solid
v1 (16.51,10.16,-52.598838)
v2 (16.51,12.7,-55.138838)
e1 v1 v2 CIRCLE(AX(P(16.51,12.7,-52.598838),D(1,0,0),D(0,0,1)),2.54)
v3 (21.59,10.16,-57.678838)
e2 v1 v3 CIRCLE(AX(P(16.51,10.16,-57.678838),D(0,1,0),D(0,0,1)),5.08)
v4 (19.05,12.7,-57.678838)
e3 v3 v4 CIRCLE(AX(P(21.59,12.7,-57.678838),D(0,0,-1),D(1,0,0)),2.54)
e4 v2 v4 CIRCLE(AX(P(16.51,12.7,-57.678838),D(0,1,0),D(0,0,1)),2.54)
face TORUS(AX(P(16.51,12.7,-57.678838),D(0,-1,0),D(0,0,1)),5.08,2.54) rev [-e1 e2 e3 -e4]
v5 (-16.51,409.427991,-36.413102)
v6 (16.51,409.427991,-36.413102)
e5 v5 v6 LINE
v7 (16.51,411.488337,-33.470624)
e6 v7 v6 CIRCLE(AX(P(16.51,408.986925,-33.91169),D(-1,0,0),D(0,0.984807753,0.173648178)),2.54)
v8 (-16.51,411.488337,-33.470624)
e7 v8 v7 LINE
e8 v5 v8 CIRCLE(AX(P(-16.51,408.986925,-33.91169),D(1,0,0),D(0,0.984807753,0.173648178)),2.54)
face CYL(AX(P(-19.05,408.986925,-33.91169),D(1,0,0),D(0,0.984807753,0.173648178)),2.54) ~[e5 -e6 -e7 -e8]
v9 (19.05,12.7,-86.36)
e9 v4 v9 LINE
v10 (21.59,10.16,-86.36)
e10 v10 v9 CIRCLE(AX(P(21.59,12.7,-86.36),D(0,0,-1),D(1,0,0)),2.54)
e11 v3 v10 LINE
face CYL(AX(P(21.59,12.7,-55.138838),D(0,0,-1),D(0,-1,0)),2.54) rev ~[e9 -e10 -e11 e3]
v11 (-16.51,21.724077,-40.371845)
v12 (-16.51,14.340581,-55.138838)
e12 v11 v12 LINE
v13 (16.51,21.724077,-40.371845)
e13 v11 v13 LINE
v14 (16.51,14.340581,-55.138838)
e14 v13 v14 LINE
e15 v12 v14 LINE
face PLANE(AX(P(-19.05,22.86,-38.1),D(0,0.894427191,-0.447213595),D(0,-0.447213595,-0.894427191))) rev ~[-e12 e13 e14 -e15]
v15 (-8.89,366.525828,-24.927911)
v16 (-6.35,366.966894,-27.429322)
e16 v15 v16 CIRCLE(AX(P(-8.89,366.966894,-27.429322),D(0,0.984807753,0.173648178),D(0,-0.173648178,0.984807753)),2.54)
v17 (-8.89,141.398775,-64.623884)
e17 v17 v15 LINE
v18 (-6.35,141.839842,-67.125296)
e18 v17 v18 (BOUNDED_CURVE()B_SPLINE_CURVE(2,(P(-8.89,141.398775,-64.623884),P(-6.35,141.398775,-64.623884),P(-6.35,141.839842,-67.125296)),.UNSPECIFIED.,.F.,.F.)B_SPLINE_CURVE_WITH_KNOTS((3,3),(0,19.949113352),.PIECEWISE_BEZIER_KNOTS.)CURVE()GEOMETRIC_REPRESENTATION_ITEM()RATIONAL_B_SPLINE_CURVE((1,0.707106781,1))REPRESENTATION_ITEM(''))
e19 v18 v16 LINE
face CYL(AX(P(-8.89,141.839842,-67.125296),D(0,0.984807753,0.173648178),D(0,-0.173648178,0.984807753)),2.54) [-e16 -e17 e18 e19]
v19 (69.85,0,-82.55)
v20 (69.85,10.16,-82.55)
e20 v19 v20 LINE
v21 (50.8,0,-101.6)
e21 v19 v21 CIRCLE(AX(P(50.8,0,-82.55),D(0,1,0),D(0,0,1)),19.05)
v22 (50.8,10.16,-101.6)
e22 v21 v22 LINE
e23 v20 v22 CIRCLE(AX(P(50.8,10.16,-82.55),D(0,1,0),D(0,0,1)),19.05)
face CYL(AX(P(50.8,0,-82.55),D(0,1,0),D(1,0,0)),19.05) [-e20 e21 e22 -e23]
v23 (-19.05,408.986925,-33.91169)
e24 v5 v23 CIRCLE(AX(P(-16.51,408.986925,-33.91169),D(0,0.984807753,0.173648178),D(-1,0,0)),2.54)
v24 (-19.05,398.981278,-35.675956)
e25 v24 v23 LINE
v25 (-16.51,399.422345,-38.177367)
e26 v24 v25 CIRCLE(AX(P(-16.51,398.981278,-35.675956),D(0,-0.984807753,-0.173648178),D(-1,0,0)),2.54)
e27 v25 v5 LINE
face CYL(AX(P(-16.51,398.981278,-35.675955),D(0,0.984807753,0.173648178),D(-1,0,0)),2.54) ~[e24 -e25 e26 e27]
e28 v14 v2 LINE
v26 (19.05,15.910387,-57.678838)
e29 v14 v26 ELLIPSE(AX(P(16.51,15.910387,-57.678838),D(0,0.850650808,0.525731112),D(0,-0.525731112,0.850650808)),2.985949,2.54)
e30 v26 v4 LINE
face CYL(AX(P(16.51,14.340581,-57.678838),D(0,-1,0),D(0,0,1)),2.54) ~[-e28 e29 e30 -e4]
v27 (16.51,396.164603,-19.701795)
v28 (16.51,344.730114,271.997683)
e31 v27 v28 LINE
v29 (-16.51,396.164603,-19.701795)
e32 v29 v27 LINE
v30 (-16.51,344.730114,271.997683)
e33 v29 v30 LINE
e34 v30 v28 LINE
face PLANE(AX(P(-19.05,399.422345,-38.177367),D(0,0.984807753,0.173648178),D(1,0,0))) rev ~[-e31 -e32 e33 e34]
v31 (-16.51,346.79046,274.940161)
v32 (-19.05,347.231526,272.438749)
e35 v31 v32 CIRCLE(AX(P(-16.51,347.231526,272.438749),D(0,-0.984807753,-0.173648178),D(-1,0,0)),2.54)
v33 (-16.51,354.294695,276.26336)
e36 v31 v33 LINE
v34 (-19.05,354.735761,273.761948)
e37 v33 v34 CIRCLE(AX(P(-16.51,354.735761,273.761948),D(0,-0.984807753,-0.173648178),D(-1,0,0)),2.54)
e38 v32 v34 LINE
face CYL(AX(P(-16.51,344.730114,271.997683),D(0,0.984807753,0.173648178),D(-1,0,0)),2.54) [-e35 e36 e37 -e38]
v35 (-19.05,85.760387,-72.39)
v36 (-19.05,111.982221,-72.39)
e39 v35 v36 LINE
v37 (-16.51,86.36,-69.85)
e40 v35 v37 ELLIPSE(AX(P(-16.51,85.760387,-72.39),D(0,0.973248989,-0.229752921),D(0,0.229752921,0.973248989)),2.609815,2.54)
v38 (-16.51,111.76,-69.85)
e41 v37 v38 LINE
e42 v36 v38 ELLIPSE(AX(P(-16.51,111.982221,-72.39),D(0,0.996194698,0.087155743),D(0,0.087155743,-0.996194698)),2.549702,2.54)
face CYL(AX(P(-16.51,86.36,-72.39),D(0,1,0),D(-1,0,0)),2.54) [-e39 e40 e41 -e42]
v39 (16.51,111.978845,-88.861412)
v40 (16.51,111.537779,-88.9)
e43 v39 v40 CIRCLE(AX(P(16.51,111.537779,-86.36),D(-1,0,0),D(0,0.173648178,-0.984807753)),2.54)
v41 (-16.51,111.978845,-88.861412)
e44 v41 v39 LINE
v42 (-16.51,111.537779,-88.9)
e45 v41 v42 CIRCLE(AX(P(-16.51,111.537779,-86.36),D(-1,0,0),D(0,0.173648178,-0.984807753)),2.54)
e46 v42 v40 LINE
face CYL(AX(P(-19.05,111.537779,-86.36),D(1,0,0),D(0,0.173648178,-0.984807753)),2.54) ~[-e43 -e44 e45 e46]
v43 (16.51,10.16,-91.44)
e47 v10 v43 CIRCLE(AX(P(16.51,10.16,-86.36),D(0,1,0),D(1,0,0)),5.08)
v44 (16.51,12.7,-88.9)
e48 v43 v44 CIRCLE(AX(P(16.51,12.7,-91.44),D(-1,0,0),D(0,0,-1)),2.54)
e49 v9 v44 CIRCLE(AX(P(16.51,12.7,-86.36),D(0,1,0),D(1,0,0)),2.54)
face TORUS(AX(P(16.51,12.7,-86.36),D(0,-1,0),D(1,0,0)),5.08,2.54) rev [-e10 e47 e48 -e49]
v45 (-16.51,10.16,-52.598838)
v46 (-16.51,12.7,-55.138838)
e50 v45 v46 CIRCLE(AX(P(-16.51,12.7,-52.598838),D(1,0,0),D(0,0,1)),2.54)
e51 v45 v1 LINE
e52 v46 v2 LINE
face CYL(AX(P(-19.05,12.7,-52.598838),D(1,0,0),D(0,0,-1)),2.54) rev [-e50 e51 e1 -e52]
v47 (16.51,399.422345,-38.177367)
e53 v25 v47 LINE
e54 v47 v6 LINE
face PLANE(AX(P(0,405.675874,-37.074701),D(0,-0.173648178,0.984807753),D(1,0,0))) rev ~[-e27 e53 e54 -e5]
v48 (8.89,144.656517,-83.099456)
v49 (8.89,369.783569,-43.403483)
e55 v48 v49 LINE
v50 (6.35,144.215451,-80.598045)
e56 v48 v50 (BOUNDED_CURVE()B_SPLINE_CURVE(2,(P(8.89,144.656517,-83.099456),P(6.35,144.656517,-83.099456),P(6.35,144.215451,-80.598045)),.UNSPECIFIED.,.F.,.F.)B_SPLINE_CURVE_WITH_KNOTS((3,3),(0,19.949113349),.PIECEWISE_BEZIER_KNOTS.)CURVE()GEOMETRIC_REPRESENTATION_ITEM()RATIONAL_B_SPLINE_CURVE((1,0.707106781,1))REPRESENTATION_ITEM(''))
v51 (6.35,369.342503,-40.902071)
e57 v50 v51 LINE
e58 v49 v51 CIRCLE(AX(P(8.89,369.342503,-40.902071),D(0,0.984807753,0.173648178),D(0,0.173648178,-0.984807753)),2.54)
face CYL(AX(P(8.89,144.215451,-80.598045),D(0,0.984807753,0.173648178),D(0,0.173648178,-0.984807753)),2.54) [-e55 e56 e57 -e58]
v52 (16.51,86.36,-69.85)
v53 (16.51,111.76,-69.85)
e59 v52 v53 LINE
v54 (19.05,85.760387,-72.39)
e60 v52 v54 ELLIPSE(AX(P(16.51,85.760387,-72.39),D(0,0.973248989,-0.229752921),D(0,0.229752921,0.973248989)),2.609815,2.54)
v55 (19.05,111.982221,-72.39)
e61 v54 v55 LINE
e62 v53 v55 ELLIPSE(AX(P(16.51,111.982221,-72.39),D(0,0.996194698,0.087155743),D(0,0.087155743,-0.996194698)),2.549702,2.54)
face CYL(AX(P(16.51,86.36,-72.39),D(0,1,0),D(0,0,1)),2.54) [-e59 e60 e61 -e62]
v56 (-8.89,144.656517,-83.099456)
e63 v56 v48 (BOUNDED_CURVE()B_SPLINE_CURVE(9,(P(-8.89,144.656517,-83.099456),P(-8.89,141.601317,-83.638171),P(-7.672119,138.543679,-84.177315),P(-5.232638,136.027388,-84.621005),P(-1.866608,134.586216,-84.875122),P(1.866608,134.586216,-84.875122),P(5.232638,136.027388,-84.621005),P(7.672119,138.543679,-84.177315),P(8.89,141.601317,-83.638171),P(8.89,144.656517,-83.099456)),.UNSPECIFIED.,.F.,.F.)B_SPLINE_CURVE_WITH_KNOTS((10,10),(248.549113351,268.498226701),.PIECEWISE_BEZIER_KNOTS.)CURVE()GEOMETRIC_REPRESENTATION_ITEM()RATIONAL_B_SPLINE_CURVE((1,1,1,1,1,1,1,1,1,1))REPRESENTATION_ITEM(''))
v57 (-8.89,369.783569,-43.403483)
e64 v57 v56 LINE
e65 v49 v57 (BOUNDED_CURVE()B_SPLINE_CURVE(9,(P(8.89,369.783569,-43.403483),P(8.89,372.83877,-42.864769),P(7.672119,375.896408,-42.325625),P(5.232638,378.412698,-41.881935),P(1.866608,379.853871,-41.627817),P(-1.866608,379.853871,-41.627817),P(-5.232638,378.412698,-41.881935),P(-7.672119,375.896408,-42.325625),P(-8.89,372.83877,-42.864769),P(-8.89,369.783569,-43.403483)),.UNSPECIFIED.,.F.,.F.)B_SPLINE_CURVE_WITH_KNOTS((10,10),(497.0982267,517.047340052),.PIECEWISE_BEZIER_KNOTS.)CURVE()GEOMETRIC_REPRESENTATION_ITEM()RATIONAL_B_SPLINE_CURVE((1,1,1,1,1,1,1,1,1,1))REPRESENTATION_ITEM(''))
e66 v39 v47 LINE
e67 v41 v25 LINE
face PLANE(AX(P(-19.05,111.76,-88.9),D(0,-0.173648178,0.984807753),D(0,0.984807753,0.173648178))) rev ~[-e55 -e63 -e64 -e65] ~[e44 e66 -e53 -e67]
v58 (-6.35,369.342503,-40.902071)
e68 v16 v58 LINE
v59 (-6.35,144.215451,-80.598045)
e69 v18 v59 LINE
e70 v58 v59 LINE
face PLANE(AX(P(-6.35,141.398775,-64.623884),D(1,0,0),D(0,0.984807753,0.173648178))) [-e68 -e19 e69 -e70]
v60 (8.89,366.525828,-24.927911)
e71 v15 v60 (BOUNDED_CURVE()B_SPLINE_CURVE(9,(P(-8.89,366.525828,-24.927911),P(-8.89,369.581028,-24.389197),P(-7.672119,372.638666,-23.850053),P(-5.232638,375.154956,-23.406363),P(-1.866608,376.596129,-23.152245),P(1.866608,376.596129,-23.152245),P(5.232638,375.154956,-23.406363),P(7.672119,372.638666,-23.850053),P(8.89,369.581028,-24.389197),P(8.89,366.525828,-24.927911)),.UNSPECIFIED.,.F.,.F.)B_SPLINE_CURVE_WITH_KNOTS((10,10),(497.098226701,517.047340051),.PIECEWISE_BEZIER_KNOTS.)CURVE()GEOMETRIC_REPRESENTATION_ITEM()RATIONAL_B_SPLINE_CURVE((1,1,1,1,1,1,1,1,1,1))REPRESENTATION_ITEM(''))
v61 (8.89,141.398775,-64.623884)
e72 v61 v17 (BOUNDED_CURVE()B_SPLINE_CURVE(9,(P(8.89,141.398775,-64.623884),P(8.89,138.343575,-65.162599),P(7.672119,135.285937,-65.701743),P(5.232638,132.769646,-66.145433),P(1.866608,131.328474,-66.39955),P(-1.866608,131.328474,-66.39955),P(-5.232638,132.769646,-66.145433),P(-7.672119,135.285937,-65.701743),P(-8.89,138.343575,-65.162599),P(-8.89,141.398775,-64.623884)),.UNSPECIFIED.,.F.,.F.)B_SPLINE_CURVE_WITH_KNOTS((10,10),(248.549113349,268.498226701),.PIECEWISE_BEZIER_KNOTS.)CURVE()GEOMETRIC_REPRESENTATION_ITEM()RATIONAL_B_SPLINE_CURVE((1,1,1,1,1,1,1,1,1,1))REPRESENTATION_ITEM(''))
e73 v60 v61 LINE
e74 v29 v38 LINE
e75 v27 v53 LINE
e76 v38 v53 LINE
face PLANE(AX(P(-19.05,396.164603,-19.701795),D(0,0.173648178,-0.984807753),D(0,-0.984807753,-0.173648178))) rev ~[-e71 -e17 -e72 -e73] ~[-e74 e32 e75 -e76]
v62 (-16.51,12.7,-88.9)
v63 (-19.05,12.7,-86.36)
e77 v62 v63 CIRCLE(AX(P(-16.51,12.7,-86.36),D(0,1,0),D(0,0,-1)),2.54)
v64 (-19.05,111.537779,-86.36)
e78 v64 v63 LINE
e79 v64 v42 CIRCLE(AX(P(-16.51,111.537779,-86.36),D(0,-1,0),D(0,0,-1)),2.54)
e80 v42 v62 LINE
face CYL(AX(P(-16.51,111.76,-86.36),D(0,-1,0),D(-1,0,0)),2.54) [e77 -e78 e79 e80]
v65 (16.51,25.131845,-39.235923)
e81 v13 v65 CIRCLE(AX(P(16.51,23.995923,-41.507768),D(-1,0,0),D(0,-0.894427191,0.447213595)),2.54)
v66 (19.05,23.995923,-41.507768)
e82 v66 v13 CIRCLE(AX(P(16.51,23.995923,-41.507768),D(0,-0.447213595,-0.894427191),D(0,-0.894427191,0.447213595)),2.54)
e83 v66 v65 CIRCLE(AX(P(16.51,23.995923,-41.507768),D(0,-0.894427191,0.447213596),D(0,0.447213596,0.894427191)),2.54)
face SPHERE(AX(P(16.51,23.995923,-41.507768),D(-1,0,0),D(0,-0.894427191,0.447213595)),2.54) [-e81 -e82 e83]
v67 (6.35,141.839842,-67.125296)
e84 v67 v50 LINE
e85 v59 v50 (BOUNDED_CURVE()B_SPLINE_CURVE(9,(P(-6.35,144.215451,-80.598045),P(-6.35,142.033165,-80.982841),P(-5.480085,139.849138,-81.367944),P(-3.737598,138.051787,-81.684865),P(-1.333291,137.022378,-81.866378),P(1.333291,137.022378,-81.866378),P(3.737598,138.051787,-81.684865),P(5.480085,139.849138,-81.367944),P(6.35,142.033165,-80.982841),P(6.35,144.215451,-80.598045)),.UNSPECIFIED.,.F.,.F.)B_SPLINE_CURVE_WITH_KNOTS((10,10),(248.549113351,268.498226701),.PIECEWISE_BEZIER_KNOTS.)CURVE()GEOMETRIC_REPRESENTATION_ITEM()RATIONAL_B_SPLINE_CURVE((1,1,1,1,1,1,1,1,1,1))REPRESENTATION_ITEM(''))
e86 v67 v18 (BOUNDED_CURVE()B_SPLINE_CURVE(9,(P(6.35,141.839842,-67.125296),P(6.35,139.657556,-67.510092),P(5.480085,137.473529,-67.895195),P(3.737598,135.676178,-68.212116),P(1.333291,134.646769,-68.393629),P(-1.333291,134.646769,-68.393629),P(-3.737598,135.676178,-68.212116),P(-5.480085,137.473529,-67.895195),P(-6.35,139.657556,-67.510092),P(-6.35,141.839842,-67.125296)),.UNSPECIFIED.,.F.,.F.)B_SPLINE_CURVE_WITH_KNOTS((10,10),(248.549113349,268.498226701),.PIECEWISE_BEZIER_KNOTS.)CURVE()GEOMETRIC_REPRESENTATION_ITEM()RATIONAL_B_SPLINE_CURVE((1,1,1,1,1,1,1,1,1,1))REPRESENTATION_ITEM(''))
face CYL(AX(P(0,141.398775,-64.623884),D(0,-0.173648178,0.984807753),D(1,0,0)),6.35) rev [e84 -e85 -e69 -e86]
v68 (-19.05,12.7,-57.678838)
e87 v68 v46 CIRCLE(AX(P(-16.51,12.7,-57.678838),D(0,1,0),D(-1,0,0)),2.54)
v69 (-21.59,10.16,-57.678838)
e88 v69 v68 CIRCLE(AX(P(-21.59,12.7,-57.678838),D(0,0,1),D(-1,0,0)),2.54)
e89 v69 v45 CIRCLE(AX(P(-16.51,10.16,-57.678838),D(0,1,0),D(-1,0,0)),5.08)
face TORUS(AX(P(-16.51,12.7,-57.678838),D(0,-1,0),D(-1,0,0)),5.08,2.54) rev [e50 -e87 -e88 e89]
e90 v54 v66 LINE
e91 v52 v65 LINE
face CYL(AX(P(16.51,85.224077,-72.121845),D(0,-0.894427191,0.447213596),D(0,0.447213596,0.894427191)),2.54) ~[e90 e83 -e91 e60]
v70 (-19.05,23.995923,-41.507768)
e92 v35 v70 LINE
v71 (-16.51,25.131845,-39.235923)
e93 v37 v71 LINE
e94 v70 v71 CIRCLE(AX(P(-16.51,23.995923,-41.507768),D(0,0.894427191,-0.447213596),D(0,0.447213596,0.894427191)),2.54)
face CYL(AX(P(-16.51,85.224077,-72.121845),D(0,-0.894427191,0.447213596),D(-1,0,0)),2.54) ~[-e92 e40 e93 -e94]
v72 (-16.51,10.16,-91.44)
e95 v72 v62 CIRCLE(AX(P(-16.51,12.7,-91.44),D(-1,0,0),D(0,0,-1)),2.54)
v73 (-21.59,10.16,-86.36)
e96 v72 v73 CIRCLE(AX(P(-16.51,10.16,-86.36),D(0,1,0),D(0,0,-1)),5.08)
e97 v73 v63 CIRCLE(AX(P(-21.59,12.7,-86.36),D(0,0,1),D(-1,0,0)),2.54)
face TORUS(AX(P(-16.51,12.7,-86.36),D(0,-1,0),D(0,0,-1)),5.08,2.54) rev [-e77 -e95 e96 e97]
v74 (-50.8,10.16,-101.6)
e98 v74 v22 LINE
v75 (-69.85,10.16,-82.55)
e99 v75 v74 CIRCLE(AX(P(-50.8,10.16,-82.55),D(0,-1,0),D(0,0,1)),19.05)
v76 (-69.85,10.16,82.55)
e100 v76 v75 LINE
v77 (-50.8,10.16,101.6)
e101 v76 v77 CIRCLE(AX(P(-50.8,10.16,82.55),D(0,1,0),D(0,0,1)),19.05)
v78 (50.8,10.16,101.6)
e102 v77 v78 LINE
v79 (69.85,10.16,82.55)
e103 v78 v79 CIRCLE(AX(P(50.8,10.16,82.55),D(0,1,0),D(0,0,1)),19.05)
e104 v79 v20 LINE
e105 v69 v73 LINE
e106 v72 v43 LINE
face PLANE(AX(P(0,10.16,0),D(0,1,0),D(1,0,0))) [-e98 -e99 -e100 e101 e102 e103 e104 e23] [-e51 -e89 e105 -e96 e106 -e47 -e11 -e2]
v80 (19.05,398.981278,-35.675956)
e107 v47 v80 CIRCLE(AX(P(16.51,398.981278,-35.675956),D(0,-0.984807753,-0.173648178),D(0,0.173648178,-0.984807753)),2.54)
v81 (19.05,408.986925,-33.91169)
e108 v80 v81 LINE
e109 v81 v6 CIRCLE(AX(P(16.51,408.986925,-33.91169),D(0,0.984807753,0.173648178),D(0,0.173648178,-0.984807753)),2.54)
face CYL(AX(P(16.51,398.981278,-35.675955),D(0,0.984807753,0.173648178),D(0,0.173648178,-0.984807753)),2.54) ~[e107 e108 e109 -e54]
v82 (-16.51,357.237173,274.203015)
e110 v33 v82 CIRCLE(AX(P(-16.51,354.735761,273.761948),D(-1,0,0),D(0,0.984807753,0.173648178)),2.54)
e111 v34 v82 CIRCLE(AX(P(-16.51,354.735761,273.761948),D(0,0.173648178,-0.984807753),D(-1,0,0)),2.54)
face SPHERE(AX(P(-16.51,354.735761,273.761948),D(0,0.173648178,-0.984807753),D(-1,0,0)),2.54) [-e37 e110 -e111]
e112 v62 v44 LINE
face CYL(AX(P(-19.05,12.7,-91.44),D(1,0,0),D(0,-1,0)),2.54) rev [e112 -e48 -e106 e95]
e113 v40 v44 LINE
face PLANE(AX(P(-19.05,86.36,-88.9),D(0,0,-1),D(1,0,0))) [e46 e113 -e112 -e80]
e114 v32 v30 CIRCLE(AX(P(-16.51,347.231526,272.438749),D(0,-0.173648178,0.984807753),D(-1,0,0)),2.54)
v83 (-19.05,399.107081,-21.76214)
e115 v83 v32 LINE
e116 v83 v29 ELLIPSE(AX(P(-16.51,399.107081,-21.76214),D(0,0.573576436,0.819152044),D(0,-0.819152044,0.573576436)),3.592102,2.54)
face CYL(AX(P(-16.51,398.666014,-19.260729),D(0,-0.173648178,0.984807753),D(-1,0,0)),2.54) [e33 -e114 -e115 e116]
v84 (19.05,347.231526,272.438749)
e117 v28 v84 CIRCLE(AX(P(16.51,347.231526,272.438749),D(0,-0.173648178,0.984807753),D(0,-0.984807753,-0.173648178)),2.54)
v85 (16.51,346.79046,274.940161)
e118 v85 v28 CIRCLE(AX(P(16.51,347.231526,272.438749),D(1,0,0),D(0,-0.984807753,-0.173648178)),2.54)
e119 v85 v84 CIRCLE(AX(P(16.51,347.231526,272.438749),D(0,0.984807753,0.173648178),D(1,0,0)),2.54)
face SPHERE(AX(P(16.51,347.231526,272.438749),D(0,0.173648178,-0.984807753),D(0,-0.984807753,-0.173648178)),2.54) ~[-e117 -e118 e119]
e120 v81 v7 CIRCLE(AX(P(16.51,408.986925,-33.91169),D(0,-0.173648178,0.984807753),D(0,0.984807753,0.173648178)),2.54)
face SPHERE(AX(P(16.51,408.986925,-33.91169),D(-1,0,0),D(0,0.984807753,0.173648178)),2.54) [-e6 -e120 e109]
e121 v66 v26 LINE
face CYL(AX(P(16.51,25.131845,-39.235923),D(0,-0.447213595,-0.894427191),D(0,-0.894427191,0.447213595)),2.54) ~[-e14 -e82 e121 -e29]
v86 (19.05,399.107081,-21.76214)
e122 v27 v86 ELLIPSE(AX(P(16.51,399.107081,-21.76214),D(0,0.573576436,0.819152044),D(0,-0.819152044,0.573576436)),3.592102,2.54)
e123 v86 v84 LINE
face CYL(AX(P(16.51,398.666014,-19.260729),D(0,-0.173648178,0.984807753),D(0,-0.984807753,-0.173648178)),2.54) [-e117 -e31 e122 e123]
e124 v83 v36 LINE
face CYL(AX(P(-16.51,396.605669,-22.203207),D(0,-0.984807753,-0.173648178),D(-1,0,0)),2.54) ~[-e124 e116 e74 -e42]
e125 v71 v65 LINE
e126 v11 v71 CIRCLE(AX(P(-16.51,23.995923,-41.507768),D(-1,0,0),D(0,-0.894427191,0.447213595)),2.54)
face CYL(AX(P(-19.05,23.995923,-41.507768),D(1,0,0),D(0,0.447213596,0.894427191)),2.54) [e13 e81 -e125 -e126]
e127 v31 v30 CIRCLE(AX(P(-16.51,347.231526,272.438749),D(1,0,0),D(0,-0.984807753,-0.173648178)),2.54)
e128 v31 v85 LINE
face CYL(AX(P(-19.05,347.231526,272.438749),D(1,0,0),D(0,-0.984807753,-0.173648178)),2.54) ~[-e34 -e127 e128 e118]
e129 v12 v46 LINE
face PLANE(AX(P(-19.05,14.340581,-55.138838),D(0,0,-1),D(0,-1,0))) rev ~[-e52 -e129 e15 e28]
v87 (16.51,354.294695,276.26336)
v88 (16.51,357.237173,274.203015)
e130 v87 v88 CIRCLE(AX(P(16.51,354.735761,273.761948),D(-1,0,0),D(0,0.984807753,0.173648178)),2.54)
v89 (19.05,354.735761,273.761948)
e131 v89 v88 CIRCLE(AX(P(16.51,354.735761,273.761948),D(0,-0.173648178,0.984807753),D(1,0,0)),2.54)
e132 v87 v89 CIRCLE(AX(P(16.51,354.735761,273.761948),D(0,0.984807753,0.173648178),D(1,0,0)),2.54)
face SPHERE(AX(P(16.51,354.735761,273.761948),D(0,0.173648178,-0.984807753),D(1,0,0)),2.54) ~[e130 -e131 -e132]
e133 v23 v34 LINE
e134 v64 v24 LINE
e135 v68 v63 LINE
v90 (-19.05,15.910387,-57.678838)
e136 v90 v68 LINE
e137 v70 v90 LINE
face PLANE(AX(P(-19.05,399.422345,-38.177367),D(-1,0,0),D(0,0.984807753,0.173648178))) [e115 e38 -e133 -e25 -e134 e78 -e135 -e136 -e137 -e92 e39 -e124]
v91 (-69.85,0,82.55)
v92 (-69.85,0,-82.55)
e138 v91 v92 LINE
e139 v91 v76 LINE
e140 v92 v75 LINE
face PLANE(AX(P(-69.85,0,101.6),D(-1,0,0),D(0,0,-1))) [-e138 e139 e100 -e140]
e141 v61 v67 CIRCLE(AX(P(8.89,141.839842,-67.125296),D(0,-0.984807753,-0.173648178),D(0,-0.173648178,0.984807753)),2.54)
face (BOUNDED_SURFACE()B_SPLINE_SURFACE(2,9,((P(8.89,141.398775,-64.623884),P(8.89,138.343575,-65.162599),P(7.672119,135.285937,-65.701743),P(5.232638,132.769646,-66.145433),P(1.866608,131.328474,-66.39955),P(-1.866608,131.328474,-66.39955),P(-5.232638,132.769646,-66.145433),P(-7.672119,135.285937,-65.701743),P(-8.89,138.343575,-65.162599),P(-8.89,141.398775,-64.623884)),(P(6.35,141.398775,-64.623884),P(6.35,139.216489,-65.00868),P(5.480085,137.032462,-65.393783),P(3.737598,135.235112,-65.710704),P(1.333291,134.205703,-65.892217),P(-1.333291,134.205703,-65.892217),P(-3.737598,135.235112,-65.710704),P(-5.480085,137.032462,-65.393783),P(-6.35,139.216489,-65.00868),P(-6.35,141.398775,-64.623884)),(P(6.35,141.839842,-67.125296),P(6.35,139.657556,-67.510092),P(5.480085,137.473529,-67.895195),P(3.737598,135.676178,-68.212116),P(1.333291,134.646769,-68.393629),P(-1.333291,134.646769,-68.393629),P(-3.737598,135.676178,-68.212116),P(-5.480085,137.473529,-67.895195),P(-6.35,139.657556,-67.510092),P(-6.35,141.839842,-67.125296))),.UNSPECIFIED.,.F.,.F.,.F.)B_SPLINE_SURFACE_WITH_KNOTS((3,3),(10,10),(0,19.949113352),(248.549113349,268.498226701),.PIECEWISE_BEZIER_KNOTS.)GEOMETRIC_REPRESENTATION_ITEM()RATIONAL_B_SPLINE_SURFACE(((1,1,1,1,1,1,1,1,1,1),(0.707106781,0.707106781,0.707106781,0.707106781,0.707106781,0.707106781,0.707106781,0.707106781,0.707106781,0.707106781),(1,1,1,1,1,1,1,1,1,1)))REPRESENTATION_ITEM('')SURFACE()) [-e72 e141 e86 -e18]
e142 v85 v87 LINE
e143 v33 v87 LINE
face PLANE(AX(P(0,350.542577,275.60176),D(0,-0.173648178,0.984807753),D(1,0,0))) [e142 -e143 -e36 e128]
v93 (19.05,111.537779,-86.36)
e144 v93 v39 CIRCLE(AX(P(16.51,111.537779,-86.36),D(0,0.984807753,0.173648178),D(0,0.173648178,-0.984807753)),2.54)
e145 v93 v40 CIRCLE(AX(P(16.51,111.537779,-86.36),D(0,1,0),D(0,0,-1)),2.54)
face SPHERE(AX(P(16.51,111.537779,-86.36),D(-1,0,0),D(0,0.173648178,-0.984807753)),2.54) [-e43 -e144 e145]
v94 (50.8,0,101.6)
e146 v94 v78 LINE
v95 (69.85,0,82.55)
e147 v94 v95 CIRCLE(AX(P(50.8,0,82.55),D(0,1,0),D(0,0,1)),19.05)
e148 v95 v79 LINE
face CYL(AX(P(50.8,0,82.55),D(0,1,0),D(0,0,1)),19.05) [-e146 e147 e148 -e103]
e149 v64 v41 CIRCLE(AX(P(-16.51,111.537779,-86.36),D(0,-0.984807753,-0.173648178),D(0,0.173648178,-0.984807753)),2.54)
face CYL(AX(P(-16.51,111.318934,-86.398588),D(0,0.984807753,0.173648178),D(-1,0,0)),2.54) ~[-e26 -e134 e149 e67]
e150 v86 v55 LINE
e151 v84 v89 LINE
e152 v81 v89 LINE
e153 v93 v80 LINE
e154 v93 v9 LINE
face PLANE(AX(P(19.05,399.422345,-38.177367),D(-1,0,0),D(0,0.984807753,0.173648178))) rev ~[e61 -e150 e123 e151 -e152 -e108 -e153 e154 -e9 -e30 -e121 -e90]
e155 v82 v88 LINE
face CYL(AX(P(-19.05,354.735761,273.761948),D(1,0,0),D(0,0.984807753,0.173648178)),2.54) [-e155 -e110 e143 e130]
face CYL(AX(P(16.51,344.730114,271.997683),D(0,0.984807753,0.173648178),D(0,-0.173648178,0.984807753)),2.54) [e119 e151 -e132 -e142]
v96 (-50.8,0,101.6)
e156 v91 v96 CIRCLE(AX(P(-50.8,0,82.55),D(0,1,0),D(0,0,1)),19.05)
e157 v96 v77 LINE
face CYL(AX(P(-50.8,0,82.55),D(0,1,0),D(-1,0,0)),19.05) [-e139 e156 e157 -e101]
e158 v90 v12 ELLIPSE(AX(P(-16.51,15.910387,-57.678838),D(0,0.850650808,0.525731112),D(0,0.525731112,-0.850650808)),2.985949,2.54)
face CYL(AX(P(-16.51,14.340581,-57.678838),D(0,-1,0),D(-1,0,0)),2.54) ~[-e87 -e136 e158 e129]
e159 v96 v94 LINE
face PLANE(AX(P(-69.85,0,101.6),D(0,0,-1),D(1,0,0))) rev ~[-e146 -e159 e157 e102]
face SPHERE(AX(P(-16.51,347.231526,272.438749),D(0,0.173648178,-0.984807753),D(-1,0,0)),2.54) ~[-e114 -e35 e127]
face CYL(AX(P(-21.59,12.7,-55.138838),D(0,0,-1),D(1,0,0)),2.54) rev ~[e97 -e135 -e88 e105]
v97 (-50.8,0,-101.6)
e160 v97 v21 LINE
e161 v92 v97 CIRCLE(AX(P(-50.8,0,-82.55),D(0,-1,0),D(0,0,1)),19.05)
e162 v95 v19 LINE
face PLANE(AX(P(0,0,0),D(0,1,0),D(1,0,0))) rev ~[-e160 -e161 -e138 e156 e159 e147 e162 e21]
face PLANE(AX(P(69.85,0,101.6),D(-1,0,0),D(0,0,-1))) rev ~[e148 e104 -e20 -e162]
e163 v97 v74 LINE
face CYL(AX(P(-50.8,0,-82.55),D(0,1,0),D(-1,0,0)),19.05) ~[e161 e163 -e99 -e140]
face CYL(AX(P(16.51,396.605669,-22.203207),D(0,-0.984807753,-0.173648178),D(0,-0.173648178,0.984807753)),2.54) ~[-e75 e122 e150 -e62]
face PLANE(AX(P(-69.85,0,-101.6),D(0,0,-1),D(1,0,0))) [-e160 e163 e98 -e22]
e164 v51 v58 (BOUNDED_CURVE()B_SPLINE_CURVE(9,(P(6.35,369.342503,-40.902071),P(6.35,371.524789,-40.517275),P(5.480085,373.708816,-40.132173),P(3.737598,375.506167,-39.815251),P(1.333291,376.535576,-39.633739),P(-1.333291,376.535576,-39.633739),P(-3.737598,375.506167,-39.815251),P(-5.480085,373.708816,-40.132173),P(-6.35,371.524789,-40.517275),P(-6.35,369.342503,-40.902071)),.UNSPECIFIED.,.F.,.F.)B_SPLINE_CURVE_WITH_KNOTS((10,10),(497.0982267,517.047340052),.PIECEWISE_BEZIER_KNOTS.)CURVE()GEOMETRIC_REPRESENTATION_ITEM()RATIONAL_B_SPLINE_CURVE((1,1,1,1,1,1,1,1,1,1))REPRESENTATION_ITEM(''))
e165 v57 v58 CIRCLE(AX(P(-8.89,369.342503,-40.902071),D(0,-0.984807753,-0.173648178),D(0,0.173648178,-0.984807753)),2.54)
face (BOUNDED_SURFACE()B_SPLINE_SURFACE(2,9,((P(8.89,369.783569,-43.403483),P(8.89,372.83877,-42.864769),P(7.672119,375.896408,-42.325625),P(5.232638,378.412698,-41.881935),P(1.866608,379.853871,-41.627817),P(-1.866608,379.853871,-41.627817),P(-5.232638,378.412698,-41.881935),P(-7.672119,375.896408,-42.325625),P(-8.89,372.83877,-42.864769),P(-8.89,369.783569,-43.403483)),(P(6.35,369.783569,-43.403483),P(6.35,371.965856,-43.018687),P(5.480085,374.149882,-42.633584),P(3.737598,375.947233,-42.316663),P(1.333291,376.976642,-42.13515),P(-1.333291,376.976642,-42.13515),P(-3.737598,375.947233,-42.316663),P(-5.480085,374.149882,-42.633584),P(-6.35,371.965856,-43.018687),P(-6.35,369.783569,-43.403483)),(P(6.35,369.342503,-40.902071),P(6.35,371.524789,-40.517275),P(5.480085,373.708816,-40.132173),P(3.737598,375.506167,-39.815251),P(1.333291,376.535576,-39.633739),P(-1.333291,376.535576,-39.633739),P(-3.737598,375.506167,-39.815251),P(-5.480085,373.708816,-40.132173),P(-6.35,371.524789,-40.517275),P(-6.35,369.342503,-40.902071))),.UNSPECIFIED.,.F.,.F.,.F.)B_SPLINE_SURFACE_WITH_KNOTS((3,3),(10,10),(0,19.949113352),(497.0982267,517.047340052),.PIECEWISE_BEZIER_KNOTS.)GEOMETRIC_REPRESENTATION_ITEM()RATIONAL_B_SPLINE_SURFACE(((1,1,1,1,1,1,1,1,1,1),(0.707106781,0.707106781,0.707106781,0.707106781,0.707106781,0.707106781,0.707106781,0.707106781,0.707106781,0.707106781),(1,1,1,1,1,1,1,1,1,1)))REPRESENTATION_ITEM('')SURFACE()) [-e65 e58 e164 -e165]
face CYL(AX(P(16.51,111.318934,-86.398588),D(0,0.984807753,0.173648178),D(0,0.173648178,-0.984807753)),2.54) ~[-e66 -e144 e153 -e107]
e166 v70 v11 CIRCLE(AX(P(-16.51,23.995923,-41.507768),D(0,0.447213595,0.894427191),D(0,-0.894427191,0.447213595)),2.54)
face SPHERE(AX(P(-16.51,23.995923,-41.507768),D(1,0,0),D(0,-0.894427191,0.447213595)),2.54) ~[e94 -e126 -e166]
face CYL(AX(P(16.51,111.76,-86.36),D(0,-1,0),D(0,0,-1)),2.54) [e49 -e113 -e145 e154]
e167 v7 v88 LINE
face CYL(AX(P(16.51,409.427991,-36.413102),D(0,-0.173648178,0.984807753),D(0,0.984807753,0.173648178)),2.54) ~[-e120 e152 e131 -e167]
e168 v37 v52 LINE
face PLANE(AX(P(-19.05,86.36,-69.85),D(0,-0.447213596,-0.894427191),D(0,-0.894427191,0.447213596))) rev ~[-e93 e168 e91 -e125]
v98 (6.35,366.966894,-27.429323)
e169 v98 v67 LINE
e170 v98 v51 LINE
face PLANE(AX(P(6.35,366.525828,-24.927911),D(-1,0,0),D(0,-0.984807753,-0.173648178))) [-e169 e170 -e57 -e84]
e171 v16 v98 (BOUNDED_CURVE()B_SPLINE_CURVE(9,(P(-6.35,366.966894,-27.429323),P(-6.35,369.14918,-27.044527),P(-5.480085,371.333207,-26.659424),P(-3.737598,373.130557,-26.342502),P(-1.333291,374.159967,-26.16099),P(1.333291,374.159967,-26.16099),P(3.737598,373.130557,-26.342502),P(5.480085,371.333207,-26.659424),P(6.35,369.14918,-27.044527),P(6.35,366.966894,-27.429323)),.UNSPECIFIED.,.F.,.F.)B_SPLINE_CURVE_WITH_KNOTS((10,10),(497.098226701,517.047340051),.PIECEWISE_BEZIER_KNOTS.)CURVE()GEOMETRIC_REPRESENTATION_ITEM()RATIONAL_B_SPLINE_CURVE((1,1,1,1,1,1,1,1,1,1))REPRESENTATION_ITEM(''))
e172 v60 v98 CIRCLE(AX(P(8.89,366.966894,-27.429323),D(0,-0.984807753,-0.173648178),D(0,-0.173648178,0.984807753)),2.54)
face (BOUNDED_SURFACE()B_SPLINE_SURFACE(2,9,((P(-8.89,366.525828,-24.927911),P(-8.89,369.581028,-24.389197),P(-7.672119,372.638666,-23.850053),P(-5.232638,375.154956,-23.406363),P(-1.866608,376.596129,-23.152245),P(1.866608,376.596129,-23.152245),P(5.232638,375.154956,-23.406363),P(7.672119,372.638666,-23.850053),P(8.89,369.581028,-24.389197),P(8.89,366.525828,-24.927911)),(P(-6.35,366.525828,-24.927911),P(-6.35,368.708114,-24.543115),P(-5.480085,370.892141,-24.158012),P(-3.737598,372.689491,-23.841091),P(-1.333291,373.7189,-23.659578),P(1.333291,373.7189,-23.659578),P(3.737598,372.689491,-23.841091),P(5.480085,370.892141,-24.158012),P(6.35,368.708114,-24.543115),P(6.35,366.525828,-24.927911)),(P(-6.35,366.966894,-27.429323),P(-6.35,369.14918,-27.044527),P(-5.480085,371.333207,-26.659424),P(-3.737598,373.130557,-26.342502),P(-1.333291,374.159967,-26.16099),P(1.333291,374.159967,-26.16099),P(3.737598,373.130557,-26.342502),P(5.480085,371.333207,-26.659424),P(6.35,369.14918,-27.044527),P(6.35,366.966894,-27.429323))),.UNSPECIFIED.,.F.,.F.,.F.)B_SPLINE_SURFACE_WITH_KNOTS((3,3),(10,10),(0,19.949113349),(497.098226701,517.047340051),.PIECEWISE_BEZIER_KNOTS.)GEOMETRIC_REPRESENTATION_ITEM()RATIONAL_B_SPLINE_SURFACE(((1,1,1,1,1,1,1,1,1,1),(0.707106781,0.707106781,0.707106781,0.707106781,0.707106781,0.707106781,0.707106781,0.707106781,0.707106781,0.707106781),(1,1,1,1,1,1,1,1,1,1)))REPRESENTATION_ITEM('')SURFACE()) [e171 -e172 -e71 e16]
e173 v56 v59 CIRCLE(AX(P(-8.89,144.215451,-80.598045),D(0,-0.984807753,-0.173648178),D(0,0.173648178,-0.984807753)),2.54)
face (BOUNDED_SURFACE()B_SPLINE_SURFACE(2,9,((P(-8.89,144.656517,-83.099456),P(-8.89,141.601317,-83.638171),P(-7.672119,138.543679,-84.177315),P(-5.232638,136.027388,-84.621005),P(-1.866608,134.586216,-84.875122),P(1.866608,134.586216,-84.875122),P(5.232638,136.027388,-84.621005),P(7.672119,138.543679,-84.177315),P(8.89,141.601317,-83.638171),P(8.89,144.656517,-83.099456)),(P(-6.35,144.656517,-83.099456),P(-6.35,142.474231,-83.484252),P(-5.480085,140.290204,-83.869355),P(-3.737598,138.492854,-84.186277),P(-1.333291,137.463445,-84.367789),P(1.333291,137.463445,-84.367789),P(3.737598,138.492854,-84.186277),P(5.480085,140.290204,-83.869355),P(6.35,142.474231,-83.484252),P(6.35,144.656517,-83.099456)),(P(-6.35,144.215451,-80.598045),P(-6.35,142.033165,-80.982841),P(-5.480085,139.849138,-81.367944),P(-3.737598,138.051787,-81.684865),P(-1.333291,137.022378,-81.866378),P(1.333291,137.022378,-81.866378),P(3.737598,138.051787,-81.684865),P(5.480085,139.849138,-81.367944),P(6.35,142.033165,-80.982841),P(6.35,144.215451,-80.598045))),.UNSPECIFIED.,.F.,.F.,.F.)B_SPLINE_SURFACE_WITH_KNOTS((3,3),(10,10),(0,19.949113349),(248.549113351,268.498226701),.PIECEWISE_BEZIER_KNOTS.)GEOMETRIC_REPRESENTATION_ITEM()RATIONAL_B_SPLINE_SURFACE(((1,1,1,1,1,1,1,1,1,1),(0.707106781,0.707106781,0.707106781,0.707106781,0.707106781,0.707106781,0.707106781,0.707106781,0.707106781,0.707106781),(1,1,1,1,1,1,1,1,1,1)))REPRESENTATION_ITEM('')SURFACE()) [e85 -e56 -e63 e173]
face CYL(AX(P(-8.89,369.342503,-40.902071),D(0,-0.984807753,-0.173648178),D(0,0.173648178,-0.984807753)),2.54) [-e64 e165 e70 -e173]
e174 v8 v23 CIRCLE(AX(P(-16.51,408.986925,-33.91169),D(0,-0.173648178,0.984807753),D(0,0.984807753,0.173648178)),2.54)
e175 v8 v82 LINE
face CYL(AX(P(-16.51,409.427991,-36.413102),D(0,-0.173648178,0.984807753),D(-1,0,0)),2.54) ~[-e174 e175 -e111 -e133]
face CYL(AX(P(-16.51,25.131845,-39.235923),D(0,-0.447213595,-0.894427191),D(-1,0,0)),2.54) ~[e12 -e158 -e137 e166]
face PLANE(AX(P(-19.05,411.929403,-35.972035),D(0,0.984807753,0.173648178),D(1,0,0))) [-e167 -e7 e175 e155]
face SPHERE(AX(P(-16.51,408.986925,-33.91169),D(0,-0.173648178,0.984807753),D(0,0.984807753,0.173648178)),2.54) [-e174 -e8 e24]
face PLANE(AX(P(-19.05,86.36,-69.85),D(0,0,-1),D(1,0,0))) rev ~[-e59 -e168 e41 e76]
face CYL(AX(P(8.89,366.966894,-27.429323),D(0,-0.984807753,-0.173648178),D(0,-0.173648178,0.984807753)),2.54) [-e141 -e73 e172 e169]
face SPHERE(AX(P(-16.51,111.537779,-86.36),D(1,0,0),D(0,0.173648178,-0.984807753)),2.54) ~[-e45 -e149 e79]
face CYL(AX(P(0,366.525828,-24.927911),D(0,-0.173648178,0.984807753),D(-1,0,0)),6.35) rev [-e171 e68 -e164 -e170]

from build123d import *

# Parameters (mm, degrees)
SKETCH1_W           = 139.7
SKETCH1_H           = 203.2
BOSS_EXTRUDE1_DEPTH = 10.16
SKETCH2_W           = 38.1
SKETCH2_H           = 50.8
BOSS_EXTRUDE2_DEPTH = 76.2
CUT_EXTRUDE1_DEPTH  = 89.9
SKETCH4_W           = 38.1
SKETCH4_H           = 19.05
BOSS_EXTRUDE3_DEPTH = 25.4
BOSS_EXTRUDE4_DEPTH = 38.1
CUT_EXTRUDE2_DEPTH  = 82.219688091
SKETCH7_W           = 38.1
SKETCH7_H           = 12.7
BOSS_EXTRUDE5_DEPTH = 317.5
FILLET1_R           = 2.54
FILLET2_R           = 19.05


with BuildPart() as part:
    # Sketch1 → Boss-Extrude1 (new body)
    with BuildSketch(Plane(origin=(0, 0, 0), x_dir=(1, 0, 0), z_dir=(0, 1, 0))):
        Rectangle(SKETCH1_W, SKETCH1_H)
    extrude(amount=BOSS_EXTRUDE1_DEPTH)

    # Sketch2 → Boss-Extrude2 (add)
    with BuildSketch(Plane(origin=(0, 10.16, 0), x_dir=(1, 0, 0), z_dir=(0, 1, 0))):
        with Locations((0, 63.5)):
            Rectangle(SKETCH2_W, SKETCH2_H)
    extrude(amount=BOSS_EXTRUDE2_DEPTH)

    # Sketch3 → Cut-Extrude1 (cut, through all)
    with BuildSketch(Plane.ZY.offset(19.05)):
        Polygon((-38.1, 10.16), (-38.1, 22.86), (-55.138837989, 14.340581006), (-55.138837989, 10.16), align=None)
        Polygon((-38.1, 86.36), (-69.85, 86.36), (-38.1, 22.86), align=None)
    extrude(amount=-CUT_EXTRUDE1_DEPTH, mode=Mode.SUBTRACT)

    # Sketch4 → Boss-Extrude3 (add)
    with BuildSketch(Plane(origin=(0, 86.36, 0), x_dir=(1, 0, 0), z_dir=(0, 1, 0))):
        with Locations((0, 79.375)):
            Rectangle(SKETCH4_W, SKETCH4_H)
    extrude(amount=BOSS_EXTRUDE3_DEPTH)

    # Sketch5 → Boss-Extrude4 (add)
    with BuildSketch(Plane.ZY.offset(19.05)):
        Polygon((-88.9, 111.76), (-38.177367303, 399.422344655), (-19.701795091, 396.16460279), (-69.85, 111.76), align=None)
    extrude(amount=-BOSS_EXTRUDE4_DEPTH)

    # Sketch6 → Cut-Extrude2 (cut, through all)
    with BuildSketch(Plane(origin=(0, 15.315029856, -86.85585039), x_dir=(1, 0, 0), z_dir=(0, -0.173648178, 0.984807753))):
        with BuildLine():
            Line((6.35, 356.628790374), (6.35, 128.028790374))
            ThreePointArc((6.35, 128.028790374), (0, 121.678790374), (-6.35, 128.028790374))
            Line((-6.35, 128.028790374), (-6.35, 356.628790374))
            ThreePointArc((-6.35, 356.628790374), (0, 362.978790374), (6.35, 356.628790374))
        make_face()
    extrude(amount=-CUT_EXTRUDE2_DEPTH, mode=Mode.SUBTRACT)

    # Sketch7 → Boss-Extrude5 (add)
    with BuildSketch(Plane(origin=(0, 18.572771721, -105.331422603), x_dir=(1, 0, 0), z_dir=(0, -0.173648178, 0.984807753))):
        with Locations((0, 393.074791482)):
            Rectangle(SKETCH7_W, SKETCH7_H)
    extrude(amount=BOSS_EXTRUDE5_DEPTH)

    # Fillet1
    fillet1_edges = [part.edges().sort_by_distance(p)[0] for p in [
        (-19.05, 384.362754913, 120.366195344),
        (-19.05, 370.226825518, 127.398649594),
        (19.05, 370.226825518, 127.398649594),
        (0, 411.929403118, -35.972035447),
        (19.05, 384.362754913, 120.366195344),
        (-19.05, 350.542577477, 275.601760206),
        (0, 344.289048246, 274.499094278),
        (19.05, 350.542577477, 275.601760206),
        (0, 356.796106709, 276.704426134),
        (0, 10.16, -88.9),
        (19.05, 60.96, -88.9),
        (-19.05, 10.16, -72.019418994),
        (-19.05, 60.96, -88.9),
        (0, 22.86, -38.1),
        (19.05, 10.16, -72.019418994),
        (19.05, 12.250290503, -55.138837989),
        (0, 10.16, -55.138837989),
        (19.05, 18.600290503, -46.619418994),
        (-19.05, 18.600290503, -46.619418994),
        (-19.05, 12.250290503, -55.138837989),
        (19.05, 54.61, -53.975),
        (-19.05, 54.61, -53.975),
        (-19.05, 99.06, -69.85),
        (19.05, 99.06, -69.85),
        (0, 111.76, -88.9),
        (-19.05, 253.962301395, -44.775897545),
        (-19.05, 261.844701559, -62.436017724),
        (19.05, 261.844701559, -62.436017724),
        (19.05, 253.962301395, -44.775897545),
        (0, 376.037098661, -42.300817123),
        (6.35, 257.22004326, -63.251469758),
        (0, 138.402987859, -84.202122394),
        (-6.35, 257.22004326, -63.251469758),
        (0, 372.779356796, -23.82524491),
        (-6.35, 253.962301395, -44.775897545),
        (0, 135.145245994, -65.726550181),
        (6.35, 253.962301395, -44.775897545),
    ]]
    fillet(fillet1_edges, radius=FILLET1_R)

    # Fillet2
    fillet2_edges = [part.edges().sort_by_distance(p)[0] for p in [
        (69.85, 5.08, 101.6),
        (-69.85, 5.08, 101.6),
        (-69.85, 5.08, -101.6),
        (69.85, 5.08, -101.6),
    ]]
    fillet(fillet2_edges, radius=FILLET2_R)


solid = part.part
